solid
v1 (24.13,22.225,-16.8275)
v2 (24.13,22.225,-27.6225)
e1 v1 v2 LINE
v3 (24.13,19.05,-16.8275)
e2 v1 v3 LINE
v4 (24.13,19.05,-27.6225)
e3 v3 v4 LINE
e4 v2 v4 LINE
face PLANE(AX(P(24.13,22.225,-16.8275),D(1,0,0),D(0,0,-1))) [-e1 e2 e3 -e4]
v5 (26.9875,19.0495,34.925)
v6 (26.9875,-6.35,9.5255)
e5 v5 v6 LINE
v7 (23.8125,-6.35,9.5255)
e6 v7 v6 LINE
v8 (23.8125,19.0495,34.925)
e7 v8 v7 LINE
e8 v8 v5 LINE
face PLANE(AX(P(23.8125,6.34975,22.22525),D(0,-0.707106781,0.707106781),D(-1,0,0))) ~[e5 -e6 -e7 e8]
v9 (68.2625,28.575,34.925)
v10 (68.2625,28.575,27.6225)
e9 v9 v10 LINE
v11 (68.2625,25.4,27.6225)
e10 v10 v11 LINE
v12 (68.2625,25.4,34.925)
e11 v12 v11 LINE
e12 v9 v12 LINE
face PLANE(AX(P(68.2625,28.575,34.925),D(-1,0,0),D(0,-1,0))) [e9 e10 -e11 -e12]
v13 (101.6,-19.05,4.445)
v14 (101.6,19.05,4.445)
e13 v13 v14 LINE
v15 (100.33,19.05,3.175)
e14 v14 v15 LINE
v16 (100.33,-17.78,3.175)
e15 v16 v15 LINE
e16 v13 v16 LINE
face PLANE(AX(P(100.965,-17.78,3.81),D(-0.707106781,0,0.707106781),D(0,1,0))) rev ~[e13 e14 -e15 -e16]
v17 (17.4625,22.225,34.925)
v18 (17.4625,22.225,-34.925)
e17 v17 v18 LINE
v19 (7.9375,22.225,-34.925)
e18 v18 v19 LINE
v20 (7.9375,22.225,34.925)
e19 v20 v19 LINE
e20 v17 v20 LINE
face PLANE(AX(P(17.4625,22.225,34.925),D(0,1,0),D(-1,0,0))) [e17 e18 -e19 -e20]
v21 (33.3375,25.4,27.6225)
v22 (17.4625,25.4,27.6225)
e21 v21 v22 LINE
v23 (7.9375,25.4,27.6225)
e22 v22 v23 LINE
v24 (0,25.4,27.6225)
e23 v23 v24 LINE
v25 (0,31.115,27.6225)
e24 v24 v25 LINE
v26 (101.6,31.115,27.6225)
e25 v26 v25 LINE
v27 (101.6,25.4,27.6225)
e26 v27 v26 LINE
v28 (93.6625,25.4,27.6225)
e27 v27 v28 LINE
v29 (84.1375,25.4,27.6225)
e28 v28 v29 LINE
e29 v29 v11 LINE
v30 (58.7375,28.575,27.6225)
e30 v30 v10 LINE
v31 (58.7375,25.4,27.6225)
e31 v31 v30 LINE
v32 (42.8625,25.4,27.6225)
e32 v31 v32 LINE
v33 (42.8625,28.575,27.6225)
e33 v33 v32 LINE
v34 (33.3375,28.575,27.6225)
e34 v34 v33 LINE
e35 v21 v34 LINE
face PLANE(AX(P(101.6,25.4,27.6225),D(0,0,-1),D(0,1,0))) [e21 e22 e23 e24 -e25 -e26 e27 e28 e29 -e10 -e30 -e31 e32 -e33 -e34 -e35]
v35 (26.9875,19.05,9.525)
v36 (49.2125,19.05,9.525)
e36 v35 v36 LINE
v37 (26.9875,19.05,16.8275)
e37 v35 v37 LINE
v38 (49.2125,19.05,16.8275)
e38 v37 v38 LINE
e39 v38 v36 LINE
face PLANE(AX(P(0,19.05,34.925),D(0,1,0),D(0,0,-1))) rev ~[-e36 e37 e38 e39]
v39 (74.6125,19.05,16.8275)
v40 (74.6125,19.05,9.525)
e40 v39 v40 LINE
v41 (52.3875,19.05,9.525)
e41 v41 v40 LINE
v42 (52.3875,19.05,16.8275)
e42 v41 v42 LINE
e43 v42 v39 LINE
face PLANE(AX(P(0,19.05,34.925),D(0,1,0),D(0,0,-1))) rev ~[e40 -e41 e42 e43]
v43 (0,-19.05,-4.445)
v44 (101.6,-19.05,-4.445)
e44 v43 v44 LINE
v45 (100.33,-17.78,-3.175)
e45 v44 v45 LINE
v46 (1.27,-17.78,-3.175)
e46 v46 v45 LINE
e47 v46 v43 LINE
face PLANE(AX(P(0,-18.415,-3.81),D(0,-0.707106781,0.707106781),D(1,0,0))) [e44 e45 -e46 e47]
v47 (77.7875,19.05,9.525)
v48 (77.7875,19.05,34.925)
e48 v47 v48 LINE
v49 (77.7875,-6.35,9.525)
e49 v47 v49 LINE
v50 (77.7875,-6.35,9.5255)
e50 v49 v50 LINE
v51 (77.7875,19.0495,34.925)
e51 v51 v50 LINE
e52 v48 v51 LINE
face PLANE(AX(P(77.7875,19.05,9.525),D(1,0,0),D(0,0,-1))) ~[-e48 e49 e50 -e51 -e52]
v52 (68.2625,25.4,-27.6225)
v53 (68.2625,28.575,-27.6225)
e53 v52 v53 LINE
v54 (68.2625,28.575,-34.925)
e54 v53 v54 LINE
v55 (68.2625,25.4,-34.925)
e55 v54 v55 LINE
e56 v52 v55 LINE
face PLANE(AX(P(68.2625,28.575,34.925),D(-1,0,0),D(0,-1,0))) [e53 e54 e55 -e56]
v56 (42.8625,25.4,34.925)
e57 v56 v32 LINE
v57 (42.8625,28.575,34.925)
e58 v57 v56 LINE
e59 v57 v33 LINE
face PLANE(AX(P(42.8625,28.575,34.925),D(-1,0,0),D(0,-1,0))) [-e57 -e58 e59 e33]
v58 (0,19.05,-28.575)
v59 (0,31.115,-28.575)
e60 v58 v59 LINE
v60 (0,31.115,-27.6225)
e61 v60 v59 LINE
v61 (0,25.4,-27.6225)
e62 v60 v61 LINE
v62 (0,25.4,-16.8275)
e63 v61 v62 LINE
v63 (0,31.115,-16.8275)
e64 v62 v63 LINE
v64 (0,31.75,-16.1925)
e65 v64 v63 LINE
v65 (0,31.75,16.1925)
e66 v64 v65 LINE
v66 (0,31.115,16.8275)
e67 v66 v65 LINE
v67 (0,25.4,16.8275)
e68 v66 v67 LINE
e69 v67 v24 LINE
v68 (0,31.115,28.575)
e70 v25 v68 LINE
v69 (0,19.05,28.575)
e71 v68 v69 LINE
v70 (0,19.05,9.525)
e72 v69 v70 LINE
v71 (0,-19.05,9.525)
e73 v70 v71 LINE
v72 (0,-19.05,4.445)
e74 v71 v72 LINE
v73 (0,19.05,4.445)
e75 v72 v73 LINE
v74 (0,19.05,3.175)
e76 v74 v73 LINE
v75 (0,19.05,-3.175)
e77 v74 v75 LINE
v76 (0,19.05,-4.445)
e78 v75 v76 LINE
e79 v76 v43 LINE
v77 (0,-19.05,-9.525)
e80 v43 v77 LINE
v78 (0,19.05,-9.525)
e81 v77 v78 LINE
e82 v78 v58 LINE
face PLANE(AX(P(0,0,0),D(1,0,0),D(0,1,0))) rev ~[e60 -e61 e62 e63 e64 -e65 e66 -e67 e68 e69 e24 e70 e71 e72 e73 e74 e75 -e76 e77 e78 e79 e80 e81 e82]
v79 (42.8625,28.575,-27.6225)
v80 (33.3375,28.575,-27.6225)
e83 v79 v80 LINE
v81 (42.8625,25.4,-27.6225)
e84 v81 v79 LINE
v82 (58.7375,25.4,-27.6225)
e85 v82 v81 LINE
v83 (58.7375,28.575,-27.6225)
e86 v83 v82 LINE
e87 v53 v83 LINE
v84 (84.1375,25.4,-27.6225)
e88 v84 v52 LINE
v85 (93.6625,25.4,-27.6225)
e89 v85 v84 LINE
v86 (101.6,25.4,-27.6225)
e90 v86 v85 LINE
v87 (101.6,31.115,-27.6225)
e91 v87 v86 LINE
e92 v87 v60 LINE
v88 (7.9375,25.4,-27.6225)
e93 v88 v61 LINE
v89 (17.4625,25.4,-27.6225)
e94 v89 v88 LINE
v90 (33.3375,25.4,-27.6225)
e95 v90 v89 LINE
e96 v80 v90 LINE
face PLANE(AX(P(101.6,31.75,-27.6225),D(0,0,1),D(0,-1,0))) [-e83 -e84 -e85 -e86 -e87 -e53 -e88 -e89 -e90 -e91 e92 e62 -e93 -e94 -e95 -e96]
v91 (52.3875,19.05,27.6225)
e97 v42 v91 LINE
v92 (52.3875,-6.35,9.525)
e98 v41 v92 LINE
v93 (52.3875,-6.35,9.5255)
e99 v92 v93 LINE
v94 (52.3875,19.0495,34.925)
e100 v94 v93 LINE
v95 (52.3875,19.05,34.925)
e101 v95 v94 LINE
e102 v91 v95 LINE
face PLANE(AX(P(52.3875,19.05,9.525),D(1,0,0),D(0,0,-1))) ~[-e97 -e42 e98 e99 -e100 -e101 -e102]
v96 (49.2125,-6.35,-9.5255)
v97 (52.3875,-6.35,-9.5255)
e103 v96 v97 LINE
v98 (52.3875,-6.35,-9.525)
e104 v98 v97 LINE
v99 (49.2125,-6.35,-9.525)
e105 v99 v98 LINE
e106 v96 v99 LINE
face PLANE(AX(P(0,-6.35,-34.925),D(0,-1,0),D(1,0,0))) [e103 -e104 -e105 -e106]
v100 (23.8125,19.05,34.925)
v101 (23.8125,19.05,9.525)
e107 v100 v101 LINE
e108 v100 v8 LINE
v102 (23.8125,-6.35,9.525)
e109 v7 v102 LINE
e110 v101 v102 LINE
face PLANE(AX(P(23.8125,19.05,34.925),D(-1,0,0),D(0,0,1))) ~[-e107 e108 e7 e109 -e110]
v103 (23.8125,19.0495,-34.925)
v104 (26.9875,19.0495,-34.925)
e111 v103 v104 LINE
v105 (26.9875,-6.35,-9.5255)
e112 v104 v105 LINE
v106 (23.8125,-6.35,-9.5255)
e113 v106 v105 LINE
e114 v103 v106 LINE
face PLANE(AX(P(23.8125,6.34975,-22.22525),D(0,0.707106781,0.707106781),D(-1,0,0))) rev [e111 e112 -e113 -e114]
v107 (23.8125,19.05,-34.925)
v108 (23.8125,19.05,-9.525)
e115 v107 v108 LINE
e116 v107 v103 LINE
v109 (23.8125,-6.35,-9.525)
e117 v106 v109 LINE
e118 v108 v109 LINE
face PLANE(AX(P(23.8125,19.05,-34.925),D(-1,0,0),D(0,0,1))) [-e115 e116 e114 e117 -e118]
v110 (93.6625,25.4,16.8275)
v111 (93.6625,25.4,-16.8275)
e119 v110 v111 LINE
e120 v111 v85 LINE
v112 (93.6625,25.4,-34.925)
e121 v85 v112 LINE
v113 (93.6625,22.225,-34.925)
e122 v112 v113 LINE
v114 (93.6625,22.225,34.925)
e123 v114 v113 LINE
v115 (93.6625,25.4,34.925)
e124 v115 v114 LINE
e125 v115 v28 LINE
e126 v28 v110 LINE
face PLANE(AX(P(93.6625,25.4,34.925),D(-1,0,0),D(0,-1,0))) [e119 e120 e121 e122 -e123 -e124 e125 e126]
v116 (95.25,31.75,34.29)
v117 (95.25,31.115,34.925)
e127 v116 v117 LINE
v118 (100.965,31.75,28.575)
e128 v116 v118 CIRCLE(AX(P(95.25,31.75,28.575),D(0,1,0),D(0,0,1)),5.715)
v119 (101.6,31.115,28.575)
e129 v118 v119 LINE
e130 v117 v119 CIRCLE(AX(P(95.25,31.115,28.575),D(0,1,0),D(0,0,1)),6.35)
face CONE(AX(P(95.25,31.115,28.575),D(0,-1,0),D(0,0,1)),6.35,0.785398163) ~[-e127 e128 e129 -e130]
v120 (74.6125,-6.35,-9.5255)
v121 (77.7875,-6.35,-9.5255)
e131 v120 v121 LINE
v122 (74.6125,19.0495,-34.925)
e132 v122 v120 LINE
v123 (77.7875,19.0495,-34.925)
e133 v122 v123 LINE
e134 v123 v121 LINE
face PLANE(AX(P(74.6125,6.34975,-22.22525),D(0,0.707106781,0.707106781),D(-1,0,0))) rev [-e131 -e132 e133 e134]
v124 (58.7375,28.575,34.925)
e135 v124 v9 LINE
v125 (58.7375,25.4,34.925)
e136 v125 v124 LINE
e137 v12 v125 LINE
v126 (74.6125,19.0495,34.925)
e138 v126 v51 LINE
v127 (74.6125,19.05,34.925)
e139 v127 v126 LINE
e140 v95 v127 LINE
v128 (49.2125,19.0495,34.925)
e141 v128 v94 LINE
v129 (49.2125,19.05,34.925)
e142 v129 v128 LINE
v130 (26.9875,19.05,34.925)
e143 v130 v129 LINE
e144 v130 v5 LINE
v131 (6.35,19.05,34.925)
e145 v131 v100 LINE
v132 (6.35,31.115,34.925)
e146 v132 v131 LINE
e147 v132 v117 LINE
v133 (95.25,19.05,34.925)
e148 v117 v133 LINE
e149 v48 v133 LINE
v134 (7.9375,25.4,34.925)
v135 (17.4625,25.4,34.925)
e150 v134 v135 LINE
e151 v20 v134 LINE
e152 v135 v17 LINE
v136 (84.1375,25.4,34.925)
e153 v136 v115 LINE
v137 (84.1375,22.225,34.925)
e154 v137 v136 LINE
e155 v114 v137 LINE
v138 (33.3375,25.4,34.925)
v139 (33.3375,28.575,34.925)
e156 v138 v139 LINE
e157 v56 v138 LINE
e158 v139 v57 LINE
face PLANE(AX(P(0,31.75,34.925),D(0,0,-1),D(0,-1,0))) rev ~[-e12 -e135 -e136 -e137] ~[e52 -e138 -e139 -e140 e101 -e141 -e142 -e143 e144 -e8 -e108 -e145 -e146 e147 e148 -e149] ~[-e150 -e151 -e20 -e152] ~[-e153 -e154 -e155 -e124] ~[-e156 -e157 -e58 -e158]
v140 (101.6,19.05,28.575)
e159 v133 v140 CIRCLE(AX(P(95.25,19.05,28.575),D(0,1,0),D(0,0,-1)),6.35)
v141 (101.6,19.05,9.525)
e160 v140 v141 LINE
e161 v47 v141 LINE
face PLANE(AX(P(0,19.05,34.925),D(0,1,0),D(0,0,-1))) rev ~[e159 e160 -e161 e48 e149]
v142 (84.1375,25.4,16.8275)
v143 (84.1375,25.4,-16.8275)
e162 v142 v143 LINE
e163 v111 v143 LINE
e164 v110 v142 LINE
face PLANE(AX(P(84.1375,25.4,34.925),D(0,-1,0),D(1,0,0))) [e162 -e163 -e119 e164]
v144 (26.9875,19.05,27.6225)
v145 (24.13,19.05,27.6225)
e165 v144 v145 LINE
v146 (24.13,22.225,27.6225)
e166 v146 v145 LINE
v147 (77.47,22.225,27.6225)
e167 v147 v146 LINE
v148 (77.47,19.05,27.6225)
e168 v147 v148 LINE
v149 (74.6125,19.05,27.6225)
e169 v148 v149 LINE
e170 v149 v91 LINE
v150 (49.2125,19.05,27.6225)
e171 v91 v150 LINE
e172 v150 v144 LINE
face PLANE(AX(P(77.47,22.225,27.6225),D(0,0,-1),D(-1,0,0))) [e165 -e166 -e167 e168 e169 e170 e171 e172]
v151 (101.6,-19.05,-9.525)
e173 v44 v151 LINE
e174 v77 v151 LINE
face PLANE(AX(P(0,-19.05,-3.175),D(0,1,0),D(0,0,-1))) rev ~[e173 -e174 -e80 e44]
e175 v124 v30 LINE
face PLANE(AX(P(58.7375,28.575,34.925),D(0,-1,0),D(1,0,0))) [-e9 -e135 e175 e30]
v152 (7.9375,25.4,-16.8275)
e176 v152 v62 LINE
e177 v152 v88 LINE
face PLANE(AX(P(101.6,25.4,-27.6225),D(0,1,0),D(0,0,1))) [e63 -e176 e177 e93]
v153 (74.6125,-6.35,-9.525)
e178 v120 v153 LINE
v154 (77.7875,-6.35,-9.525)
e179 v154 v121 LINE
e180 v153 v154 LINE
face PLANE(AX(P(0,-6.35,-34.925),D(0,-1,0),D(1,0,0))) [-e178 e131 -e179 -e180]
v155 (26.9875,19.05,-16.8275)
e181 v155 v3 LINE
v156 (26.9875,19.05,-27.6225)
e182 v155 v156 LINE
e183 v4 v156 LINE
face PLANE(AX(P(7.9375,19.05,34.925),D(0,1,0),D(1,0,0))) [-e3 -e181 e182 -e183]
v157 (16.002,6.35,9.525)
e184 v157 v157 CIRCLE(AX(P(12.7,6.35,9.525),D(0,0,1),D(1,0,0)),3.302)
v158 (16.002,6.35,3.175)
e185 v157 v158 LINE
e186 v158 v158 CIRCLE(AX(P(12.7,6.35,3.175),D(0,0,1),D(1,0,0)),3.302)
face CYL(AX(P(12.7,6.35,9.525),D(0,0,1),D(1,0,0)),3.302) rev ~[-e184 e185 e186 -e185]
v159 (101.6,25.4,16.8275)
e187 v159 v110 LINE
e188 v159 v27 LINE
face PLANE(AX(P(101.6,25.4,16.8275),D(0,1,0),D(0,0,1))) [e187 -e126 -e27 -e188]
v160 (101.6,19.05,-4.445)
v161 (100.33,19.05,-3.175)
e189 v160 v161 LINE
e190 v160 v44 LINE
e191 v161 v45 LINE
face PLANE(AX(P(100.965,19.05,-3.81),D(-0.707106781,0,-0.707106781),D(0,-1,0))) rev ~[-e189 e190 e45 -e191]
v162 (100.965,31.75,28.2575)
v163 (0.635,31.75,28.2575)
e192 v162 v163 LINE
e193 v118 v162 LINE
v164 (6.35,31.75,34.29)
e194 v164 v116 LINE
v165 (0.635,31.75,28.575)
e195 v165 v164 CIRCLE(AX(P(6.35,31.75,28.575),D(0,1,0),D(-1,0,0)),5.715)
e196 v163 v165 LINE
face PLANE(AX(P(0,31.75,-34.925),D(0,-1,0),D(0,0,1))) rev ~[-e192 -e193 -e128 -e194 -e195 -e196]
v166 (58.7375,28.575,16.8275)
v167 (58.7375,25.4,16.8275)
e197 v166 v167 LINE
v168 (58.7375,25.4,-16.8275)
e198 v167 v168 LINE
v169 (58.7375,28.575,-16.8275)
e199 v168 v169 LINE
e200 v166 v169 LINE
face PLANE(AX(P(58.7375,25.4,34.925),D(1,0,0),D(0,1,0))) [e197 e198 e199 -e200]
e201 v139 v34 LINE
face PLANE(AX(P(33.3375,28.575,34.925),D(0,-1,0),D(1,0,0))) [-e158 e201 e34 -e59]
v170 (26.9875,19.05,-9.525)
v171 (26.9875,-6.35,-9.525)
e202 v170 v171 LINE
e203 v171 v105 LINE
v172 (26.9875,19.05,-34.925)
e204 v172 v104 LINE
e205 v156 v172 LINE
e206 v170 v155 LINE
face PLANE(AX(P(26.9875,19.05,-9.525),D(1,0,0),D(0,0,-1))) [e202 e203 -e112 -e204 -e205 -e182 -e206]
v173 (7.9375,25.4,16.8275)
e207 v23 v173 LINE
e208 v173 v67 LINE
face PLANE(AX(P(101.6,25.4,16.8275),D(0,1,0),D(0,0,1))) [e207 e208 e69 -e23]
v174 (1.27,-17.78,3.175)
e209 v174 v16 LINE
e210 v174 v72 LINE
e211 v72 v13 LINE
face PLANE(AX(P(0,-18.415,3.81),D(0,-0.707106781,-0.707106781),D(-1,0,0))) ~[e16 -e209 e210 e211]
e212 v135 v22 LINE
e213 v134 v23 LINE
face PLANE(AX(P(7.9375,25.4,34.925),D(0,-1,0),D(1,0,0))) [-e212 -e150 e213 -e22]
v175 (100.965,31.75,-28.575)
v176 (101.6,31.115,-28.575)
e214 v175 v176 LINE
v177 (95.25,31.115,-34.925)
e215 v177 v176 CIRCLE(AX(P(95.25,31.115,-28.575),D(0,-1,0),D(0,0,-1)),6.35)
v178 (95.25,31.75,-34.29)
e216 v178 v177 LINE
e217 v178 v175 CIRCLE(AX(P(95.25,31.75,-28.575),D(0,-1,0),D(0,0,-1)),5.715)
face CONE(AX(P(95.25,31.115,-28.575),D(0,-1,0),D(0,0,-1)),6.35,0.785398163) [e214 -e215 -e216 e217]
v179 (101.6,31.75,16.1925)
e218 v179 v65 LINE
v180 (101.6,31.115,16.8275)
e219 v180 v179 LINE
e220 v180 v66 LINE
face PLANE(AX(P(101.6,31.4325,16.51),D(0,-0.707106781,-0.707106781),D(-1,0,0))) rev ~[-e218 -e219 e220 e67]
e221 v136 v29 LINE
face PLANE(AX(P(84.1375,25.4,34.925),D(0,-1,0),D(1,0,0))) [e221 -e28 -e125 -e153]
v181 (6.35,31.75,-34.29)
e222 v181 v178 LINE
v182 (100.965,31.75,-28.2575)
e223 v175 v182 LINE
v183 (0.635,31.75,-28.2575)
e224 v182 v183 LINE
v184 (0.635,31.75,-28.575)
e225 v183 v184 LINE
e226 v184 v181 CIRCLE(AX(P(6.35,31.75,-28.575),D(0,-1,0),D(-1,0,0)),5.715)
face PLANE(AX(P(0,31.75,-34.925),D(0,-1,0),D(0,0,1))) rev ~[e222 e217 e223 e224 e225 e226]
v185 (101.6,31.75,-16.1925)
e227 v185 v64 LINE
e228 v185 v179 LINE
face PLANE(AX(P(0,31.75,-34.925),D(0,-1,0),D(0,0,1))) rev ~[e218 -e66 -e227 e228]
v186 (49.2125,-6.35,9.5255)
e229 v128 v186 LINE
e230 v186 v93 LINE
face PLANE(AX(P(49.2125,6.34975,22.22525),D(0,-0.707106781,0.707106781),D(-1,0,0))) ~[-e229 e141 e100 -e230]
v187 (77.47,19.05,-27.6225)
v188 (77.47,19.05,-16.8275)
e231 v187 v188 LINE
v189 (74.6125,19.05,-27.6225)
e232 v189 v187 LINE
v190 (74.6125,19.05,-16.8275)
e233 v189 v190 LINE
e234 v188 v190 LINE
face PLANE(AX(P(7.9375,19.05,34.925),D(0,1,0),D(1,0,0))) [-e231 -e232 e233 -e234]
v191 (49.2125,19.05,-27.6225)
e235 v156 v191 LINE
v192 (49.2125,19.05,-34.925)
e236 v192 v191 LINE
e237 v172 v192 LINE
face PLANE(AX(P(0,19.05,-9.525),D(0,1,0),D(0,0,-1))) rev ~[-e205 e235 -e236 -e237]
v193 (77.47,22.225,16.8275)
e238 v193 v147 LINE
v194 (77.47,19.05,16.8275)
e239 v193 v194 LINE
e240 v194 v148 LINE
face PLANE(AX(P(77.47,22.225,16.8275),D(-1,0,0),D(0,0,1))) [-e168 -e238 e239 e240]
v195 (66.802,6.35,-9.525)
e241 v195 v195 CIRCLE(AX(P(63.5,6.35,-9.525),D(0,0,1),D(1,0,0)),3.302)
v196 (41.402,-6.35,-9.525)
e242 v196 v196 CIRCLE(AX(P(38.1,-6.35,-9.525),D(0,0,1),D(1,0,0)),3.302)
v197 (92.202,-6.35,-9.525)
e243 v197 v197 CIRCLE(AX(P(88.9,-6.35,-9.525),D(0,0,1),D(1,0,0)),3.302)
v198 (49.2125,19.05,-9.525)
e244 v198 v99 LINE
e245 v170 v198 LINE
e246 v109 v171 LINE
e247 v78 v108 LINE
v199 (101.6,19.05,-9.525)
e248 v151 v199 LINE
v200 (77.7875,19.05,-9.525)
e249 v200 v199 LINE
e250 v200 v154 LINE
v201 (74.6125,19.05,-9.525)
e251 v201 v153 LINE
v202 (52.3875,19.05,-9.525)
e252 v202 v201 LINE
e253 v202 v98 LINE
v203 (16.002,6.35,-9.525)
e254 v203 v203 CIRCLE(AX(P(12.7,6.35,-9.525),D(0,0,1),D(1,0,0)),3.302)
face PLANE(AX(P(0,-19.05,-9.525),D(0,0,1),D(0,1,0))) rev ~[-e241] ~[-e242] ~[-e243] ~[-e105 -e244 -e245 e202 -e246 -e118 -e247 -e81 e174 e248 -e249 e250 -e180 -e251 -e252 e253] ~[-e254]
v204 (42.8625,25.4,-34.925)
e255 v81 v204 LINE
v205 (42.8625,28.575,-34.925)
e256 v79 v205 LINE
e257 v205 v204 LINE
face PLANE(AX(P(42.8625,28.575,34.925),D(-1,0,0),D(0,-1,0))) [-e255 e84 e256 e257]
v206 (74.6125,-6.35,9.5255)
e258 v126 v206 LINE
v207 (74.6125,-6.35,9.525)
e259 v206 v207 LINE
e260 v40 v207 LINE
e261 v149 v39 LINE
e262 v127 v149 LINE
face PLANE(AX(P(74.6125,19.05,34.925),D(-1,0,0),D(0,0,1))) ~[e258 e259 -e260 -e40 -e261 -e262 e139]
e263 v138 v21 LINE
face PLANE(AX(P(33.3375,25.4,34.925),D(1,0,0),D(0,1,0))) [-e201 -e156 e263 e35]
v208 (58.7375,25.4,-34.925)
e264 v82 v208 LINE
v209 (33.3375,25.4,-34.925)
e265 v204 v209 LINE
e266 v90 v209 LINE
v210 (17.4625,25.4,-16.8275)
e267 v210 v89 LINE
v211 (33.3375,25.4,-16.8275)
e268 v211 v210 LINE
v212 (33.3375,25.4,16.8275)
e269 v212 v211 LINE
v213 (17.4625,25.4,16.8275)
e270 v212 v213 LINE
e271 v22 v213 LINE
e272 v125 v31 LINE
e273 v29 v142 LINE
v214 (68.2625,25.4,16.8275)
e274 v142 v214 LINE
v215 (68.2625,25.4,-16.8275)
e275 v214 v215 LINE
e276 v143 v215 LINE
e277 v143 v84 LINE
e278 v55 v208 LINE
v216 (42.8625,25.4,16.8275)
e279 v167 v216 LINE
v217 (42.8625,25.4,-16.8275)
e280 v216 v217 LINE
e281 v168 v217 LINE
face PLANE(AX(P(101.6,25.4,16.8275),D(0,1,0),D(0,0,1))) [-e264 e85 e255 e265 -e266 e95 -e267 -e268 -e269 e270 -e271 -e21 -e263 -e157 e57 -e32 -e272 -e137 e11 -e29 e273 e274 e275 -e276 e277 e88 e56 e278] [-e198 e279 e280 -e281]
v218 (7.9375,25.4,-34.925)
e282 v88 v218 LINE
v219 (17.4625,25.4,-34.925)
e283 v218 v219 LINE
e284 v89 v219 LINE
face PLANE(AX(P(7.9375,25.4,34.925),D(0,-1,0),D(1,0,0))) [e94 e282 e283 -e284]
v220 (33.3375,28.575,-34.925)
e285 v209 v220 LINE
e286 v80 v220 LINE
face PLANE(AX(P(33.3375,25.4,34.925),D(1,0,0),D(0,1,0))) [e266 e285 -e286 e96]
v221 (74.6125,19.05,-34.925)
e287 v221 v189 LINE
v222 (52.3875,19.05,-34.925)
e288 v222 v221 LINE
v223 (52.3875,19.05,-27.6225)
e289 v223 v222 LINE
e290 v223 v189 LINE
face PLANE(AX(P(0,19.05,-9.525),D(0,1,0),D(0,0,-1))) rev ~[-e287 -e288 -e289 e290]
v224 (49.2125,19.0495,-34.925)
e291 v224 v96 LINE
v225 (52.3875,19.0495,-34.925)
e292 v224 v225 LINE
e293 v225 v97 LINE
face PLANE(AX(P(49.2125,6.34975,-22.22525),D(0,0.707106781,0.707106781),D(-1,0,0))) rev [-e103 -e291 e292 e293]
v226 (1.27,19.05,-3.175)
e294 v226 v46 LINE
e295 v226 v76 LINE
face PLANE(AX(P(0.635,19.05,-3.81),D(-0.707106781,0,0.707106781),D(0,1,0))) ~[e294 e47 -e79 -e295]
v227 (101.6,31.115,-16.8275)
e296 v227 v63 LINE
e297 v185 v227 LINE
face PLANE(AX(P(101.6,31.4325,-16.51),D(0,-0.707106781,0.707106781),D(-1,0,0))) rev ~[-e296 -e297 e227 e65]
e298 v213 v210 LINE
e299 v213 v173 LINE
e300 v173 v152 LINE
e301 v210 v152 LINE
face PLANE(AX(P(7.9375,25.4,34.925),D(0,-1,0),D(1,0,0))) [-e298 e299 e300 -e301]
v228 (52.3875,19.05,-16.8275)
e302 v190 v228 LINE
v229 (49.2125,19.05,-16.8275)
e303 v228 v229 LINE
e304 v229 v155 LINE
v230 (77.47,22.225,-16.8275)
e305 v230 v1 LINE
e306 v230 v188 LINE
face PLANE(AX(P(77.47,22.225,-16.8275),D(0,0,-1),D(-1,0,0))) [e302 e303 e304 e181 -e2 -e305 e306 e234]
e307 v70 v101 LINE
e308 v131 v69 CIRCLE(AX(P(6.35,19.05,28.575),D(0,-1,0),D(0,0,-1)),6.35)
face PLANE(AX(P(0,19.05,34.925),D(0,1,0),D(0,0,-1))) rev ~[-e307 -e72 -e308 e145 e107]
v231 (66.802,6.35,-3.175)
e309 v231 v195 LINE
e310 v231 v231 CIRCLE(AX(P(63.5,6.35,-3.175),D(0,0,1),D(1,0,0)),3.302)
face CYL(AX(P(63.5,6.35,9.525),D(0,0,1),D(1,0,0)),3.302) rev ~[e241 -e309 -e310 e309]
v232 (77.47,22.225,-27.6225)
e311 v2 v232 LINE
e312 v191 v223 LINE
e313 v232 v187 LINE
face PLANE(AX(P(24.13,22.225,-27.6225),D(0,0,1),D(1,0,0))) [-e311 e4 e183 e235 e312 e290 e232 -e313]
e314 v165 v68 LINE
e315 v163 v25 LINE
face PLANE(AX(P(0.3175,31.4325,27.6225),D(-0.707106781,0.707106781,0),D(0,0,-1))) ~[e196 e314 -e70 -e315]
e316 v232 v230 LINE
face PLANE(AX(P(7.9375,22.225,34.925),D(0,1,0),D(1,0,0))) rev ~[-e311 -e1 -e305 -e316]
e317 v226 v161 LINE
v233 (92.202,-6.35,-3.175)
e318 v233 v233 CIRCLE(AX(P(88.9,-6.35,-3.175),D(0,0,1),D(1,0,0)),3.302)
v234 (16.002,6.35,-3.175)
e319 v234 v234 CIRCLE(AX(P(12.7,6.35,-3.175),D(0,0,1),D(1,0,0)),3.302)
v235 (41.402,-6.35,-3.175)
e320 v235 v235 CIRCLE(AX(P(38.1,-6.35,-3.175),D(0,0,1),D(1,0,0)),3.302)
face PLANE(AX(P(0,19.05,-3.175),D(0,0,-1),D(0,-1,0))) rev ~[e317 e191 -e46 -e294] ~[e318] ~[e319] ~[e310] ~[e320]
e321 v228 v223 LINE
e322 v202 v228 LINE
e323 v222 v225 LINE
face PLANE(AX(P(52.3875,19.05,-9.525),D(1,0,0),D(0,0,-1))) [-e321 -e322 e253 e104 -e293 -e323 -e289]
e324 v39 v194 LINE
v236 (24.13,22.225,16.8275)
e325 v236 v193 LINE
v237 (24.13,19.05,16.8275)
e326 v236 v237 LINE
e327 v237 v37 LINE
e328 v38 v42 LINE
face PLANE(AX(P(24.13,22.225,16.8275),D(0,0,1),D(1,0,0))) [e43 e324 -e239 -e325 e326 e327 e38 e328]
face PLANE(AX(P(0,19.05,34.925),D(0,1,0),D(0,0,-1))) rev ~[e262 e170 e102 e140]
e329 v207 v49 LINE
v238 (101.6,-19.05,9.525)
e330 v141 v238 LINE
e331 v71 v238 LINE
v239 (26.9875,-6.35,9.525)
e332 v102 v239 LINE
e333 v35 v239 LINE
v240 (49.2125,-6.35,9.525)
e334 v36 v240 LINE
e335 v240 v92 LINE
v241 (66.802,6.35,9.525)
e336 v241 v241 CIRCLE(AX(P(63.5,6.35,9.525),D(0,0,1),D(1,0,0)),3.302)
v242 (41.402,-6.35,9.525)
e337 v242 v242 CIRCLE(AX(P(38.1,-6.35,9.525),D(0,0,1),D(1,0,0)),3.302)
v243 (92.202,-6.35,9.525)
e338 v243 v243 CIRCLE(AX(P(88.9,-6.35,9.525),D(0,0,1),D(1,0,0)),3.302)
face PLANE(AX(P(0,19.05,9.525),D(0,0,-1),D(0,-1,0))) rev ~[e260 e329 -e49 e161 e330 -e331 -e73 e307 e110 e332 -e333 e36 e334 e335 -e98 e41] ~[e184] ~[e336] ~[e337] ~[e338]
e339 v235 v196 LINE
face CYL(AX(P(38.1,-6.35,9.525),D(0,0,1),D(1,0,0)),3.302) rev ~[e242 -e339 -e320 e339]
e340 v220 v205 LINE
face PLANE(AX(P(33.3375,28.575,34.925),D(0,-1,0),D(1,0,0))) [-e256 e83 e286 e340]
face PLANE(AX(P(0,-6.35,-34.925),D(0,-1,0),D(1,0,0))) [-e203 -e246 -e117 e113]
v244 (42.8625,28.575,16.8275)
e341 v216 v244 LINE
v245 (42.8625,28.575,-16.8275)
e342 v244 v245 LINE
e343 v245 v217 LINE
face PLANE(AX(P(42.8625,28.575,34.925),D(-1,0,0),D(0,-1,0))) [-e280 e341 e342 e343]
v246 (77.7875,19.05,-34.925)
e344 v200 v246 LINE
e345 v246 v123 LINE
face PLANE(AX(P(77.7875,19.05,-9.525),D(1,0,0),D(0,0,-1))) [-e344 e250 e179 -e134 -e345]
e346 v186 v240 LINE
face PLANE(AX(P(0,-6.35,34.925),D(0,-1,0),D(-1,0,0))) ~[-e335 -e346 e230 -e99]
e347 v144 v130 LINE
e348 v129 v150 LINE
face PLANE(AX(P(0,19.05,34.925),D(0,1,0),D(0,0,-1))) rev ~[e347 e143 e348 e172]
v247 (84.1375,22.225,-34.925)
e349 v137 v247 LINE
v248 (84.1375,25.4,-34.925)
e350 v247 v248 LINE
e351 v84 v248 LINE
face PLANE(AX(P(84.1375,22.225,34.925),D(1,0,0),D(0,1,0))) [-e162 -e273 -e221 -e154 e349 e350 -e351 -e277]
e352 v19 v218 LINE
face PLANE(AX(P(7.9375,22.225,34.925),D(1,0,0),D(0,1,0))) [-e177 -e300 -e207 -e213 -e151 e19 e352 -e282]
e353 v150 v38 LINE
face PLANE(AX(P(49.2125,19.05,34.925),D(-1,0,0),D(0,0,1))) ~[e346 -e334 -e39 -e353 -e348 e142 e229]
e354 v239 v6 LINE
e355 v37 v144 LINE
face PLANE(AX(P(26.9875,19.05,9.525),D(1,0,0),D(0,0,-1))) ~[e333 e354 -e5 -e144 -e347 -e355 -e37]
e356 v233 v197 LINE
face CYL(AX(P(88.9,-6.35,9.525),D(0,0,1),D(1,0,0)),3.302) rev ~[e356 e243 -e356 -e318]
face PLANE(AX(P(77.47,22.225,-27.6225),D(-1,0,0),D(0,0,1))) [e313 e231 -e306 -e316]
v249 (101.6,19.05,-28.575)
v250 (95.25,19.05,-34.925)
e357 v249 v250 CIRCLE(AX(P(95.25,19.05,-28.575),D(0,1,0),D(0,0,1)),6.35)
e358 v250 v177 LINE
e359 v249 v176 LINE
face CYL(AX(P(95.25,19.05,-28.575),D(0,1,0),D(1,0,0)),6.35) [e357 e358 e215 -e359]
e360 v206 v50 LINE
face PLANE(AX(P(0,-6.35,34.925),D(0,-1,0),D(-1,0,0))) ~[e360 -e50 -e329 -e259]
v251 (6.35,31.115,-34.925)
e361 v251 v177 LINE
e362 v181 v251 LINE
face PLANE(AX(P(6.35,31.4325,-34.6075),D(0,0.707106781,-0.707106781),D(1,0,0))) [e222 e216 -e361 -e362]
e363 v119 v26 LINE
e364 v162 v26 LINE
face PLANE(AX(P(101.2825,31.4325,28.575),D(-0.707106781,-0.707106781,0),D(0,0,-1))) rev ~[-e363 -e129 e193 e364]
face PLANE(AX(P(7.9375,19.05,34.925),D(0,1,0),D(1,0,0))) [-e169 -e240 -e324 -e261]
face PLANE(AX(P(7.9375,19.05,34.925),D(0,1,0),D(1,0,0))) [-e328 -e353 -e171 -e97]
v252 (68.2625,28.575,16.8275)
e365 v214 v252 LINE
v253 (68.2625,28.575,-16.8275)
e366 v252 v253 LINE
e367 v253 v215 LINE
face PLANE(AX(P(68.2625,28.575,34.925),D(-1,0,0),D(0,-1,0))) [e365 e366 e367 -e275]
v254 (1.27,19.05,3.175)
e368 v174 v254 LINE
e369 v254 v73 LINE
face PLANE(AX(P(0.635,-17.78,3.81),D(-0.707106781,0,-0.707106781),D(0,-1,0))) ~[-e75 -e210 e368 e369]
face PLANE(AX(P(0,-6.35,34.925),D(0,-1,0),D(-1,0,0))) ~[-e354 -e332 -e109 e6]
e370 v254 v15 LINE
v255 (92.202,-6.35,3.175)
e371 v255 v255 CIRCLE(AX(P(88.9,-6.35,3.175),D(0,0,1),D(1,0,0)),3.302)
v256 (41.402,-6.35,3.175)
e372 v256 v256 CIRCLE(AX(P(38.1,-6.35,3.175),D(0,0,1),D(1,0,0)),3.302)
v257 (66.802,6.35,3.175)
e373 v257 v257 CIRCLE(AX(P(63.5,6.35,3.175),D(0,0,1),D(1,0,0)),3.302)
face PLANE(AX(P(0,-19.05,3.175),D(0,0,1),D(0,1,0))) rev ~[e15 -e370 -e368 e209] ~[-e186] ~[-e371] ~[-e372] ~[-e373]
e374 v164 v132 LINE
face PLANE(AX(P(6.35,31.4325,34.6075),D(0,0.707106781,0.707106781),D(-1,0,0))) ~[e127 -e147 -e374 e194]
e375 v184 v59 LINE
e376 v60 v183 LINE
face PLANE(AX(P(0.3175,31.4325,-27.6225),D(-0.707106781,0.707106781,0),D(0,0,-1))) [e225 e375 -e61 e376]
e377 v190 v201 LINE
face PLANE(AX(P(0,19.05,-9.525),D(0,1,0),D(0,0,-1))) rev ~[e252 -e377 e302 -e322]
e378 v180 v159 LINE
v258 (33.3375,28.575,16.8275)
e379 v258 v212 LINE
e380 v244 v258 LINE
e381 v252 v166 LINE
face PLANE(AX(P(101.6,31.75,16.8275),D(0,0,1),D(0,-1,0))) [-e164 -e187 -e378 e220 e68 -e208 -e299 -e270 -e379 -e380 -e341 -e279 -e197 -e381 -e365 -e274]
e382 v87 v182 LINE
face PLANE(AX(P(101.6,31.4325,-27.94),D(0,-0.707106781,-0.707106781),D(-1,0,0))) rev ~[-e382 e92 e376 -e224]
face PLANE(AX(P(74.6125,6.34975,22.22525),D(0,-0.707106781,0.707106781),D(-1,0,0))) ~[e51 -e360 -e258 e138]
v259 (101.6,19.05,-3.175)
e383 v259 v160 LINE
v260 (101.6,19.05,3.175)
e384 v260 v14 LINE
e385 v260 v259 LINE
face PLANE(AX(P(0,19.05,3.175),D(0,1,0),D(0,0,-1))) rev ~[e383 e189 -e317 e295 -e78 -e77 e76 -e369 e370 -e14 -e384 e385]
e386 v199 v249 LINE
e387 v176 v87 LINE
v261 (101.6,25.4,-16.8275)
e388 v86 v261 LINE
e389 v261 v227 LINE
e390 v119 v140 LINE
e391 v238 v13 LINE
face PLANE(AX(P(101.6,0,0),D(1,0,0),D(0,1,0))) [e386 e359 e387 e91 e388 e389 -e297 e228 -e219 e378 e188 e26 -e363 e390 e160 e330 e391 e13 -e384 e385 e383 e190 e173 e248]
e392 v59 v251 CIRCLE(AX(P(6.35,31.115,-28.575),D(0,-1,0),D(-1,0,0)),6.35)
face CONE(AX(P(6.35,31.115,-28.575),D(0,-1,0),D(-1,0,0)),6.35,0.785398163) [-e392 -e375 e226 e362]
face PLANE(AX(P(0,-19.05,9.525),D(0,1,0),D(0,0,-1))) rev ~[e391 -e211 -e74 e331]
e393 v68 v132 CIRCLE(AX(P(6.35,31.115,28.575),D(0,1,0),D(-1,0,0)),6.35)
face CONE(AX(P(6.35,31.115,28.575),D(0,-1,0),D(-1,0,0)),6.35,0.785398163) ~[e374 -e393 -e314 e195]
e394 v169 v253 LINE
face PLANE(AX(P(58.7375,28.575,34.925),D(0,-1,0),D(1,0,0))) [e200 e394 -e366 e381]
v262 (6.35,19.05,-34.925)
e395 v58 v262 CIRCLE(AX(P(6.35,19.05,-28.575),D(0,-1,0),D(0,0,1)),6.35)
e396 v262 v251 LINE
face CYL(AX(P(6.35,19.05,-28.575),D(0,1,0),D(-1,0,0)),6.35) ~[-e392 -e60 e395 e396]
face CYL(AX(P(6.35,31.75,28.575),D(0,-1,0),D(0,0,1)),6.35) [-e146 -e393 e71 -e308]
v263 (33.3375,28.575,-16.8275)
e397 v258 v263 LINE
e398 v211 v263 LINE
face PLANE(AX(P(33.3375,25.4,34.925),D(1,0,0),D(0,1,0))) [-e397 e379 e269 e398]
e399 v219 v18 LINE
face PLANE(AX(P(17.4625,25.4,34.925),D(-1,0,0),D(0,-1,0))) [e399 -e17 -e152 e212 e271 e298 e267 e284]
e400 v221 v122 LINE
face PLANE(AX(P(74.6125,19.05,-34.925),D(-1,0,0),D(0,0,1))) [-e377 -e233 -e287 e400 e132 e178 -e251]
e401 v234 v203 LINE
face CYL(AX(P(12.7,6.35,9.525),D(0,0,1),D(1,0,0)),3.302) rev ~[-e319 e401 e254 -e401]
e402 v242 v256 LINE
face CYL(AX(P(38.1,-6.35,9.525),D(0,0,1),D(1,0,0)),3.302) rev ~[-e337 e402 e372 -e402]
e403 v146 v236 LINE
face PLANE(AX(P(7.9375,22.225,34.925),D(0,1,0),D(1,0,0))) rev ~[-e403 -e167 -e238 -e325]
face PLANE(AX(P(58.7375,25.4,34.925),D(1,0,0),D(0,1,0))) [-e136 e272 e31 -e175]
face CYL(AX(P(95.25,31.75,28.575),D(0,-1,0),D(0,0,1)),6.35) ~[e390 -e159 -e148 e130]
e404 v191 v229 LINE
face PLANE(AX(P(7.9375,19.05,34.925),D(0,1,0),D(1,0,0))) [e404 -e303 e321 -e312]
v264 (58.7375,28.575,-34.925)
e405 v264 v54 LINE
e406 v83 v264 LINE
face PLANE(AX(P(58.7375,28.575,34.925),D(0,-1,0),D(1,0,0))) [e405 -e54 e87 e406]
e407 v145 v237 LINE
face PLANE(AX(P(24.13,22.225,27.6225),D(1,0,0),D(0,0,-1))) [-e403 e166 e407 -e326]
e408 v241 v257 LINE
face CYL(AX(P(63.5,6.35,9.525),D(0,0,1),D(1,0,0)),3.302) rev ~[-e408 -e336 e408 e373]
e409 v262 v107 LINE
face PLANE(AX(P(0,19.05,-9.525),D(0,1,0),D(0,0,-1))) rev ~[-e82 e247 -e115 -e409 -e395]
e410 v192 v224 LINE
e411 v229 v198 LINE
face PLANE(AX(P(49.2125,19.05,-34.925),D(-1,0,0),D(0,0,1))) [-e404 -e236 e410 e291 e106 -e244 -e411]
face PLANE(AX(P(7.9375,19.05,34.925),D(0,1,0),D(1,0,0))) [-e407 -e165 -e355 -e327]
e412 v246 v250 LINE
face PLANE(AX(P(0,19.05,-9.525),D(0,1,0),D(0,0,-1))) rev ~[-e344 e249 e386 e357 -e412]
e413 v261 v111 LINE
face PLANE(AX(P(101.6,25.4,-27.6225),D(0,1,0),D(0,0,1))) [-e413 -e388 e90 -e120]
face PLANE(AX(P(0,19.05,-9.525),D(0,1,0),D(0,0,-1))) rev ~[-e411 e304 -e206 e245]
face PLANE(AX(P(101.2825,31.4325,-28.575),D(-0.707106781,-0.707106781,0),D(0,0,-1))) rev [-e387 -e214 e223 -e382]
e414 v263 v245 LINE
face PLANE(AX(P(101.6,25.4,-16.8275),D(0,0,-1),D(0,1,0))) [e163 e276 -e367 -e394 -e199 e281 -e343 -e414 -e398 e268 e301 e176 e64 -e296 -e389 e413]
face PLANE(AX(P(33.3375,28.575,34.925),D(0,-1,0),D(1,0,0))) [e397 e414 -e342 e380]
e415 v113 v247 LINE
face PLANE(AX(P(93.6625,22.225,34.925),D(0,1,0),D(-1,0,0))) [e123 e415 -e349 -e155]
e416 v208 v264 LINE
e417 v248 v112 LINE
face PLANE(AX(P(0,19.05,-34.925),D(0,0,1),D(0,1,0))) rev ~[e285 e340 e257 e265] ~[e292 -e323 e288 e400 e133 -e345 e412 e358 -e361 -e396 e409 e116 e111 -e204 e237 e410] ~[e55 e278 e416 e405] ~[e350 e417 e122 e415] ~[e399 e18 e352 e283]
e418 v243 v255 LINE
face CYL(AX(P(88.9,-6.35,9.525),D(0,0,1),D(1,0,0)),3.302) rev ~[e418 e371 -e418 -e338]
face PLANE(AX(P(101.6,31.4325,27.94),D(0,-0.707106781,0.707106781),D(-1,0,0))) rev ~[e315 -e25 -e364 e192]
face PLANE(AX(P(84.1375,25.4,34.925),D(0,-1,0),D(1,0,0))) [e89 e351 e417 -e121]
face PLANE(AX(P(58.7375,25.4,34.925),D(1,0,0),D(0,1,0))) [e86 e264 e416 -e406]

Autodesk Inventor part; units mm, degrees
ref_plane "YZ Plane" through (0, 0, 0) normal (1, 0, 0) x (0, 1, 0)
ref_plane "XZ Plane" through (0, 0, 0) normal (0, 1, 0) x (-1, 0, 0)
sketch "Sketch1" plane through (0, 0, 0) normal (1, 0, 0) x (0, 1, 0)
  line L0 (31.75, 34.925) -> (19.05, 34.925)
  line L1 (19.05, 34.925) -> (19.05, 9.525)
  line L2 (19.05, -34.925) -> (31.75, -34.925)
  line L3 (31.75, -34.925) -> (31.75, 34.925)
  line L4 (19.05, 9.525) -> (-19.05, 9.525)
  line L5 (-19.05, 9.525) -> (-19.05, 3.175)
  line L6 (-19.05, 3.175) -> (19.05, 3.175)
  line L7 (19.05, 3.175) -> (19.05, 9.525) construction
  line L8 (19.05, -3.175) -> (-19.05, -3.175)
  line L9 (-19.05, -3.175) -> (-19.05, -9.525)
  line L10 (-19.05, -9.525) -> (19.05, -9.525)
  line L11 (19.05, -9.525) -> (19.05, -3.175) construction
  line L12 (19.05, 3.175) -> (19.05, -3.175)
  line L13 (19.05, -9.525) -> (19.05, -34.925)
  point P0 (0, 0)
  dimension "d0" = 12.7
  dimension "d1" = 6.35
  dimension "d2" = 38.1
  dimension "d3" = 6.35
  dimension "d4" = 19.05
  dimension "d5" = 3.175
  dimension "d6" = 69.85
  dimension "d7" = 19.05
  dimension "d8" = 25.4
extrude "Extrusion1" add sketch "Sketch1" along normal blind 101.6
sketch "Sketch2" plane through (0, 19.05, -34.925) normal (0, -1, 0) x (1, 0, 0)
  line L0 (0, 0) -> (101.6, 0) projected
  line L1 (23.8125, 25.4) -> (26.9875, 25.4)
  line L2 (26.9875, 25.4) -> (26.9875, 0)
  line L3 (26.9875, 0) -> (23.8125, 0)
  line L4 (23.8125, 0) -> (23.8125, 25.4)
  line L5 (0, 25.4) -> (101.6, 25.4) projected
  line L6 (0, 25.4) -> (0, 0) projected
  line L7 (49.2125, 25.4) -> (52.3875, 25.4)
  line L8 (52.3875, 25.4) -> (52.3875, 0)
  line L9 (52.3875, 0) -> (49.2125, 0)
  line L10 (49.2125, 0) -> (49.2125, 25.4)
  line L11 (74.6125, 25.4) -> (77.7875, 25.4)
  line L12 (77.7875, 25.4) -> (77.7875, 0)
  line L13 (77.7875, 0) -> (74.6125, 0)
  line L14 (74.6125, 0) -> (74.6125, 25.4)
  point P0 (0, 34.925)
  dimension "d11" = 3.175
  dimension "d12" = 23.8125
  dimension "d15" = 25.4
extrude "Extrusion2" add sketch "Sketch2" along normal blind 25.4 contours L4 L1 L2 L0 | L10 L5 L8 L0 | L14 L5 L12 L0
chamfer "Chamfer1" distance 25.4 angle 45 3 edges at (25.4, -6.35, -34.925) (50.8, -6.35, -34.925) (76.2, -6.35, -34.925)
ref_plane "Work Plane1" through (0, -19.05, 0) normal (0, 0, -1) x (-1, 0, 0)
mirror "Mirror1" about plane through (0, -19.05, 0) normal (0, 0, -1) of "Extrusion2", "Chamfer1"
fillet "Fillet1" radius 6.35 4 edges at (0, 25.4, -34.925) (101.6, 25.4, -34.925) (101.6, 25.4, 34.925) (0, 25.4, 34.925)
chamfer "Chamfer2" distance 1.27 angle 45 2 edges at (50.8, -19.05, -3.175) (50.8, -19.05, 3.175)
sketch "Sketch3" plane through (26.9875, 19.05, 34.925) normal (0, 0, 1) x (1, 0, 0)
  line L0 (66.675, 3.175) -> (57.15, 3.175)
  line L1 (57.15, 3.175) -> (57.15, 6.35)
  line L2 (57.15, 6.35) -> (66.675, 6.35)
  line L3 (66.675, 6.35) -> (66.675, 3.175)
  line L4 (41.275, 6.35) -> (31.75, 6.35)
  line L5 (31.75, 6.35) -> (31.75, 9.525)
  line L6 (31.75, 9.525) -> (41.275, 9.525)
  line L7 (41.275, 9.525) -> (41.275, 6.35)
  line L8 (15.875, 6.35) -> (6.35, 6.35)
  line L9 (6.35, 6.35) -> (6.35, 9.525)
  line L10 (6.35, 9.525) -> (15.875, 9.525)
  line L11 (15.875, 9.525) -> (15.875, 6.35)
  line L12 (-9.525, 3.175) -> (-19.05, 3.175)
  line L13 (-19.05, 3.175) -> (-19.05, 6.35)
  line L14 (-19.05, 6.35) -> (-9.525, 6.35)
  line L15 (-9.525, 6.35) -> (-9.525, 3.175)
  line L16 (-20.6375, 12.7) -> (68.2625, 12.7) projected
  line L17 (61.9125, 3.175) -> (61.9125, 6.35) construction
  line L18 (74.6125, 0) -> (74.6125, -38.1) projected
  line L19 (36.5125, 6.35) -> (36.5125, 9.525) construction
  line L20 (11.1125, 6.35) -> (11.1125, 9.525) construction
  line L21 (-14.2875, 3.175) -> (-14.2875, 6.35) construction
  point P0 (-26.9875, -19.05)
  dimension "d29" = 9.525
  dimension "d30" = 3.175
  dimension "d31" = 6.35
  dimension "d32" = 12.7
  dimension "d33" = 25.4
  dimension "d34" = 25.4
  dimension "d35" = 25.4
  dimension "d63" = 3.175
  dimension "d64" = 3.175
extrude "Extrusion3" cut sketch "Sketch3" against normal through all
sketch "Sketch4" plane through (101.6, 0, 0) normal (1, 0, 0) x (0, 0, -1)
  line L0 (28.575, 31.75) -> (-28.575, 31.75) projected
  line L1 (-27.6225, 31.75) -> (-16.8275, 31.75)
  line L2 (-16.8275, 31.75) -> (-16.8275, 25.4)
  line L3 (-16.8275, 25.4) -> (-27.6225, 25.4)
  line L4 (-27.6225, 25.4) -> (-27.6225, 31.75)
  line L5 (16.8275, 31.75) -> (27.6225, 31.75)
  line L6 (27.6225, 31.75) -> (27.6225, 25.4)
  line L7 (27.6225, 25.4) -> (16.8275, 25.4)
  line L8 (16.8275, 25.4) -> (16.8275, 31.75)
  line L9 (-22.225, 31.75) -> (-22.225, 25.4) construction
  line L10 (22.225, 31.75) -> (22.225, 25.4) construction
  line L11 (-34.925, 25.4) -> (34.925, 25.4) projected
  line L12 (-34.925, 31.75) -> (-34.925, 19.05) projected
  line L13 (34.925, 19.05) -> (34.925, 31.75) projected
  point P0 (0, 0)
  dimension "d38" = 10.795
  dimension "d39" = 6.35
  dimension "d40" = 12.7
  dimension "d41" = 12.7
extrude "Extrusion4" cut sketch "Sketch4" against normal through all contours L6 L7 L8 L0 | L2 L3 L4 L0
chamfer "Chamfer3" distance 0.635 angle 45 10 edges at (50.8, 31.75, 34.925) (99.7401, 31.75, 33.0651) (1.8599, 31.75, 33.0651) (50.8, 31.75, 27.6225) (50.8, 31.75, 16.8275) (50.8, 31.75, -16.8275) (50.8, 31.75, -27.6225) (50.8, 31.75, -34.925) (99.7401, 31.75, -33.0651) (1.8599, 31.75, -33.0651)
sketch "Sketch5" plane through (7.9375, 22.225, 34.925) normal (0, 1, 0) x (1, 0, 0)
  line L0 (16.1925, 62.5475) -> (69.5325, 62.5475)
  line L1 (69.5325, 62.5475) -> (69.5325, 51.7525)
  line L2 (69.5325, 51.7525) -> (16.1925, 51.7525)
  line L3 (16.1925, 51.7525) -> (16.1925, 62.5475)
  line L4 (16.1925, 18.0975) -> (69.5325, 18.0975)
  line L5 (69.5325, 18.0975) -> (69.5325, 7.3025)
  line L6 (69.5325, 7.3025) -> (16.1925, 7.3025)
  line L7 (16.1925, 7.3025) -> (16.1925, 18.0975)
  line L8 (-7.9375, 62.5475) -> (93.6625, 62.5475) projected
  line L9 (93.6625, 51.7525) -> (-7.9375, 51.7525) projected
  line L10 (-7.9375, 18.0975) -> (93.6625, 18.0975) projected
  line L11 (-7.9375, 51.7525) -> (-7.9375, 62.5475) projected
  point P0 (-7.9375, 34.925)
  point P1 (-7.9362, 63.627)
  point P2 (93.6612, 63.627)
  point P3 (-7.9375, 63.5)
  point P4 (93.6625, 62.5475)
  dimension "d47" = 53.34
  dimension "d48" = 24.13
extrude "Extrusion5" cut sketch "Sketch5" against normal blind 3.175 contours L0 L1 L2 L3 | L4 L5 L6 L7
sketch "Sketch6" plane through (0, -19.05, 9.525) normal (0, 0, 1) x (1, 0, 0)
  circle A0 centre (12.7, 25.4) radius 3.302
  circle A1 centre (38.1, 12.7) radius 3.302
  circle A2 centre (63.5, 25.4) radius 3.302
  circle A3 centre (88.9, 12.7) radius 3.302
  line L0 (0, 0) -> (101.6, 0) projected
  line L1 (0, 38.1) -> (0, 0) projected
  point P0 (0, 19.05)
  dimension "d51" = 12.7
  dimension "d52" = 12.7
  dimension "d53" = 6.604
  dimension "d54" = 12.7
  dimension "d55" = 25.4
  dimension "d56" = 25.4
  dimension "d57" = 25.4
extrude "Extrusion6" cut sketch "Sketch6" against normal through all
chamfer "Chamfer4" distance 1.27 angle 45 4 edges at (0, 0.635, -3.175) (0, 0.635, 3.175) (101.6, 0.635, 3.175) (101.6, 0.635, -3.175)
equation "\"d4\" = 0.5 * d2"
equation "\"d5\" = 0.5 * d1"
equation "\"d8\" = -0.5 * d7 + 0.5 * d6"
properties part number "RadioPanelMountA"
